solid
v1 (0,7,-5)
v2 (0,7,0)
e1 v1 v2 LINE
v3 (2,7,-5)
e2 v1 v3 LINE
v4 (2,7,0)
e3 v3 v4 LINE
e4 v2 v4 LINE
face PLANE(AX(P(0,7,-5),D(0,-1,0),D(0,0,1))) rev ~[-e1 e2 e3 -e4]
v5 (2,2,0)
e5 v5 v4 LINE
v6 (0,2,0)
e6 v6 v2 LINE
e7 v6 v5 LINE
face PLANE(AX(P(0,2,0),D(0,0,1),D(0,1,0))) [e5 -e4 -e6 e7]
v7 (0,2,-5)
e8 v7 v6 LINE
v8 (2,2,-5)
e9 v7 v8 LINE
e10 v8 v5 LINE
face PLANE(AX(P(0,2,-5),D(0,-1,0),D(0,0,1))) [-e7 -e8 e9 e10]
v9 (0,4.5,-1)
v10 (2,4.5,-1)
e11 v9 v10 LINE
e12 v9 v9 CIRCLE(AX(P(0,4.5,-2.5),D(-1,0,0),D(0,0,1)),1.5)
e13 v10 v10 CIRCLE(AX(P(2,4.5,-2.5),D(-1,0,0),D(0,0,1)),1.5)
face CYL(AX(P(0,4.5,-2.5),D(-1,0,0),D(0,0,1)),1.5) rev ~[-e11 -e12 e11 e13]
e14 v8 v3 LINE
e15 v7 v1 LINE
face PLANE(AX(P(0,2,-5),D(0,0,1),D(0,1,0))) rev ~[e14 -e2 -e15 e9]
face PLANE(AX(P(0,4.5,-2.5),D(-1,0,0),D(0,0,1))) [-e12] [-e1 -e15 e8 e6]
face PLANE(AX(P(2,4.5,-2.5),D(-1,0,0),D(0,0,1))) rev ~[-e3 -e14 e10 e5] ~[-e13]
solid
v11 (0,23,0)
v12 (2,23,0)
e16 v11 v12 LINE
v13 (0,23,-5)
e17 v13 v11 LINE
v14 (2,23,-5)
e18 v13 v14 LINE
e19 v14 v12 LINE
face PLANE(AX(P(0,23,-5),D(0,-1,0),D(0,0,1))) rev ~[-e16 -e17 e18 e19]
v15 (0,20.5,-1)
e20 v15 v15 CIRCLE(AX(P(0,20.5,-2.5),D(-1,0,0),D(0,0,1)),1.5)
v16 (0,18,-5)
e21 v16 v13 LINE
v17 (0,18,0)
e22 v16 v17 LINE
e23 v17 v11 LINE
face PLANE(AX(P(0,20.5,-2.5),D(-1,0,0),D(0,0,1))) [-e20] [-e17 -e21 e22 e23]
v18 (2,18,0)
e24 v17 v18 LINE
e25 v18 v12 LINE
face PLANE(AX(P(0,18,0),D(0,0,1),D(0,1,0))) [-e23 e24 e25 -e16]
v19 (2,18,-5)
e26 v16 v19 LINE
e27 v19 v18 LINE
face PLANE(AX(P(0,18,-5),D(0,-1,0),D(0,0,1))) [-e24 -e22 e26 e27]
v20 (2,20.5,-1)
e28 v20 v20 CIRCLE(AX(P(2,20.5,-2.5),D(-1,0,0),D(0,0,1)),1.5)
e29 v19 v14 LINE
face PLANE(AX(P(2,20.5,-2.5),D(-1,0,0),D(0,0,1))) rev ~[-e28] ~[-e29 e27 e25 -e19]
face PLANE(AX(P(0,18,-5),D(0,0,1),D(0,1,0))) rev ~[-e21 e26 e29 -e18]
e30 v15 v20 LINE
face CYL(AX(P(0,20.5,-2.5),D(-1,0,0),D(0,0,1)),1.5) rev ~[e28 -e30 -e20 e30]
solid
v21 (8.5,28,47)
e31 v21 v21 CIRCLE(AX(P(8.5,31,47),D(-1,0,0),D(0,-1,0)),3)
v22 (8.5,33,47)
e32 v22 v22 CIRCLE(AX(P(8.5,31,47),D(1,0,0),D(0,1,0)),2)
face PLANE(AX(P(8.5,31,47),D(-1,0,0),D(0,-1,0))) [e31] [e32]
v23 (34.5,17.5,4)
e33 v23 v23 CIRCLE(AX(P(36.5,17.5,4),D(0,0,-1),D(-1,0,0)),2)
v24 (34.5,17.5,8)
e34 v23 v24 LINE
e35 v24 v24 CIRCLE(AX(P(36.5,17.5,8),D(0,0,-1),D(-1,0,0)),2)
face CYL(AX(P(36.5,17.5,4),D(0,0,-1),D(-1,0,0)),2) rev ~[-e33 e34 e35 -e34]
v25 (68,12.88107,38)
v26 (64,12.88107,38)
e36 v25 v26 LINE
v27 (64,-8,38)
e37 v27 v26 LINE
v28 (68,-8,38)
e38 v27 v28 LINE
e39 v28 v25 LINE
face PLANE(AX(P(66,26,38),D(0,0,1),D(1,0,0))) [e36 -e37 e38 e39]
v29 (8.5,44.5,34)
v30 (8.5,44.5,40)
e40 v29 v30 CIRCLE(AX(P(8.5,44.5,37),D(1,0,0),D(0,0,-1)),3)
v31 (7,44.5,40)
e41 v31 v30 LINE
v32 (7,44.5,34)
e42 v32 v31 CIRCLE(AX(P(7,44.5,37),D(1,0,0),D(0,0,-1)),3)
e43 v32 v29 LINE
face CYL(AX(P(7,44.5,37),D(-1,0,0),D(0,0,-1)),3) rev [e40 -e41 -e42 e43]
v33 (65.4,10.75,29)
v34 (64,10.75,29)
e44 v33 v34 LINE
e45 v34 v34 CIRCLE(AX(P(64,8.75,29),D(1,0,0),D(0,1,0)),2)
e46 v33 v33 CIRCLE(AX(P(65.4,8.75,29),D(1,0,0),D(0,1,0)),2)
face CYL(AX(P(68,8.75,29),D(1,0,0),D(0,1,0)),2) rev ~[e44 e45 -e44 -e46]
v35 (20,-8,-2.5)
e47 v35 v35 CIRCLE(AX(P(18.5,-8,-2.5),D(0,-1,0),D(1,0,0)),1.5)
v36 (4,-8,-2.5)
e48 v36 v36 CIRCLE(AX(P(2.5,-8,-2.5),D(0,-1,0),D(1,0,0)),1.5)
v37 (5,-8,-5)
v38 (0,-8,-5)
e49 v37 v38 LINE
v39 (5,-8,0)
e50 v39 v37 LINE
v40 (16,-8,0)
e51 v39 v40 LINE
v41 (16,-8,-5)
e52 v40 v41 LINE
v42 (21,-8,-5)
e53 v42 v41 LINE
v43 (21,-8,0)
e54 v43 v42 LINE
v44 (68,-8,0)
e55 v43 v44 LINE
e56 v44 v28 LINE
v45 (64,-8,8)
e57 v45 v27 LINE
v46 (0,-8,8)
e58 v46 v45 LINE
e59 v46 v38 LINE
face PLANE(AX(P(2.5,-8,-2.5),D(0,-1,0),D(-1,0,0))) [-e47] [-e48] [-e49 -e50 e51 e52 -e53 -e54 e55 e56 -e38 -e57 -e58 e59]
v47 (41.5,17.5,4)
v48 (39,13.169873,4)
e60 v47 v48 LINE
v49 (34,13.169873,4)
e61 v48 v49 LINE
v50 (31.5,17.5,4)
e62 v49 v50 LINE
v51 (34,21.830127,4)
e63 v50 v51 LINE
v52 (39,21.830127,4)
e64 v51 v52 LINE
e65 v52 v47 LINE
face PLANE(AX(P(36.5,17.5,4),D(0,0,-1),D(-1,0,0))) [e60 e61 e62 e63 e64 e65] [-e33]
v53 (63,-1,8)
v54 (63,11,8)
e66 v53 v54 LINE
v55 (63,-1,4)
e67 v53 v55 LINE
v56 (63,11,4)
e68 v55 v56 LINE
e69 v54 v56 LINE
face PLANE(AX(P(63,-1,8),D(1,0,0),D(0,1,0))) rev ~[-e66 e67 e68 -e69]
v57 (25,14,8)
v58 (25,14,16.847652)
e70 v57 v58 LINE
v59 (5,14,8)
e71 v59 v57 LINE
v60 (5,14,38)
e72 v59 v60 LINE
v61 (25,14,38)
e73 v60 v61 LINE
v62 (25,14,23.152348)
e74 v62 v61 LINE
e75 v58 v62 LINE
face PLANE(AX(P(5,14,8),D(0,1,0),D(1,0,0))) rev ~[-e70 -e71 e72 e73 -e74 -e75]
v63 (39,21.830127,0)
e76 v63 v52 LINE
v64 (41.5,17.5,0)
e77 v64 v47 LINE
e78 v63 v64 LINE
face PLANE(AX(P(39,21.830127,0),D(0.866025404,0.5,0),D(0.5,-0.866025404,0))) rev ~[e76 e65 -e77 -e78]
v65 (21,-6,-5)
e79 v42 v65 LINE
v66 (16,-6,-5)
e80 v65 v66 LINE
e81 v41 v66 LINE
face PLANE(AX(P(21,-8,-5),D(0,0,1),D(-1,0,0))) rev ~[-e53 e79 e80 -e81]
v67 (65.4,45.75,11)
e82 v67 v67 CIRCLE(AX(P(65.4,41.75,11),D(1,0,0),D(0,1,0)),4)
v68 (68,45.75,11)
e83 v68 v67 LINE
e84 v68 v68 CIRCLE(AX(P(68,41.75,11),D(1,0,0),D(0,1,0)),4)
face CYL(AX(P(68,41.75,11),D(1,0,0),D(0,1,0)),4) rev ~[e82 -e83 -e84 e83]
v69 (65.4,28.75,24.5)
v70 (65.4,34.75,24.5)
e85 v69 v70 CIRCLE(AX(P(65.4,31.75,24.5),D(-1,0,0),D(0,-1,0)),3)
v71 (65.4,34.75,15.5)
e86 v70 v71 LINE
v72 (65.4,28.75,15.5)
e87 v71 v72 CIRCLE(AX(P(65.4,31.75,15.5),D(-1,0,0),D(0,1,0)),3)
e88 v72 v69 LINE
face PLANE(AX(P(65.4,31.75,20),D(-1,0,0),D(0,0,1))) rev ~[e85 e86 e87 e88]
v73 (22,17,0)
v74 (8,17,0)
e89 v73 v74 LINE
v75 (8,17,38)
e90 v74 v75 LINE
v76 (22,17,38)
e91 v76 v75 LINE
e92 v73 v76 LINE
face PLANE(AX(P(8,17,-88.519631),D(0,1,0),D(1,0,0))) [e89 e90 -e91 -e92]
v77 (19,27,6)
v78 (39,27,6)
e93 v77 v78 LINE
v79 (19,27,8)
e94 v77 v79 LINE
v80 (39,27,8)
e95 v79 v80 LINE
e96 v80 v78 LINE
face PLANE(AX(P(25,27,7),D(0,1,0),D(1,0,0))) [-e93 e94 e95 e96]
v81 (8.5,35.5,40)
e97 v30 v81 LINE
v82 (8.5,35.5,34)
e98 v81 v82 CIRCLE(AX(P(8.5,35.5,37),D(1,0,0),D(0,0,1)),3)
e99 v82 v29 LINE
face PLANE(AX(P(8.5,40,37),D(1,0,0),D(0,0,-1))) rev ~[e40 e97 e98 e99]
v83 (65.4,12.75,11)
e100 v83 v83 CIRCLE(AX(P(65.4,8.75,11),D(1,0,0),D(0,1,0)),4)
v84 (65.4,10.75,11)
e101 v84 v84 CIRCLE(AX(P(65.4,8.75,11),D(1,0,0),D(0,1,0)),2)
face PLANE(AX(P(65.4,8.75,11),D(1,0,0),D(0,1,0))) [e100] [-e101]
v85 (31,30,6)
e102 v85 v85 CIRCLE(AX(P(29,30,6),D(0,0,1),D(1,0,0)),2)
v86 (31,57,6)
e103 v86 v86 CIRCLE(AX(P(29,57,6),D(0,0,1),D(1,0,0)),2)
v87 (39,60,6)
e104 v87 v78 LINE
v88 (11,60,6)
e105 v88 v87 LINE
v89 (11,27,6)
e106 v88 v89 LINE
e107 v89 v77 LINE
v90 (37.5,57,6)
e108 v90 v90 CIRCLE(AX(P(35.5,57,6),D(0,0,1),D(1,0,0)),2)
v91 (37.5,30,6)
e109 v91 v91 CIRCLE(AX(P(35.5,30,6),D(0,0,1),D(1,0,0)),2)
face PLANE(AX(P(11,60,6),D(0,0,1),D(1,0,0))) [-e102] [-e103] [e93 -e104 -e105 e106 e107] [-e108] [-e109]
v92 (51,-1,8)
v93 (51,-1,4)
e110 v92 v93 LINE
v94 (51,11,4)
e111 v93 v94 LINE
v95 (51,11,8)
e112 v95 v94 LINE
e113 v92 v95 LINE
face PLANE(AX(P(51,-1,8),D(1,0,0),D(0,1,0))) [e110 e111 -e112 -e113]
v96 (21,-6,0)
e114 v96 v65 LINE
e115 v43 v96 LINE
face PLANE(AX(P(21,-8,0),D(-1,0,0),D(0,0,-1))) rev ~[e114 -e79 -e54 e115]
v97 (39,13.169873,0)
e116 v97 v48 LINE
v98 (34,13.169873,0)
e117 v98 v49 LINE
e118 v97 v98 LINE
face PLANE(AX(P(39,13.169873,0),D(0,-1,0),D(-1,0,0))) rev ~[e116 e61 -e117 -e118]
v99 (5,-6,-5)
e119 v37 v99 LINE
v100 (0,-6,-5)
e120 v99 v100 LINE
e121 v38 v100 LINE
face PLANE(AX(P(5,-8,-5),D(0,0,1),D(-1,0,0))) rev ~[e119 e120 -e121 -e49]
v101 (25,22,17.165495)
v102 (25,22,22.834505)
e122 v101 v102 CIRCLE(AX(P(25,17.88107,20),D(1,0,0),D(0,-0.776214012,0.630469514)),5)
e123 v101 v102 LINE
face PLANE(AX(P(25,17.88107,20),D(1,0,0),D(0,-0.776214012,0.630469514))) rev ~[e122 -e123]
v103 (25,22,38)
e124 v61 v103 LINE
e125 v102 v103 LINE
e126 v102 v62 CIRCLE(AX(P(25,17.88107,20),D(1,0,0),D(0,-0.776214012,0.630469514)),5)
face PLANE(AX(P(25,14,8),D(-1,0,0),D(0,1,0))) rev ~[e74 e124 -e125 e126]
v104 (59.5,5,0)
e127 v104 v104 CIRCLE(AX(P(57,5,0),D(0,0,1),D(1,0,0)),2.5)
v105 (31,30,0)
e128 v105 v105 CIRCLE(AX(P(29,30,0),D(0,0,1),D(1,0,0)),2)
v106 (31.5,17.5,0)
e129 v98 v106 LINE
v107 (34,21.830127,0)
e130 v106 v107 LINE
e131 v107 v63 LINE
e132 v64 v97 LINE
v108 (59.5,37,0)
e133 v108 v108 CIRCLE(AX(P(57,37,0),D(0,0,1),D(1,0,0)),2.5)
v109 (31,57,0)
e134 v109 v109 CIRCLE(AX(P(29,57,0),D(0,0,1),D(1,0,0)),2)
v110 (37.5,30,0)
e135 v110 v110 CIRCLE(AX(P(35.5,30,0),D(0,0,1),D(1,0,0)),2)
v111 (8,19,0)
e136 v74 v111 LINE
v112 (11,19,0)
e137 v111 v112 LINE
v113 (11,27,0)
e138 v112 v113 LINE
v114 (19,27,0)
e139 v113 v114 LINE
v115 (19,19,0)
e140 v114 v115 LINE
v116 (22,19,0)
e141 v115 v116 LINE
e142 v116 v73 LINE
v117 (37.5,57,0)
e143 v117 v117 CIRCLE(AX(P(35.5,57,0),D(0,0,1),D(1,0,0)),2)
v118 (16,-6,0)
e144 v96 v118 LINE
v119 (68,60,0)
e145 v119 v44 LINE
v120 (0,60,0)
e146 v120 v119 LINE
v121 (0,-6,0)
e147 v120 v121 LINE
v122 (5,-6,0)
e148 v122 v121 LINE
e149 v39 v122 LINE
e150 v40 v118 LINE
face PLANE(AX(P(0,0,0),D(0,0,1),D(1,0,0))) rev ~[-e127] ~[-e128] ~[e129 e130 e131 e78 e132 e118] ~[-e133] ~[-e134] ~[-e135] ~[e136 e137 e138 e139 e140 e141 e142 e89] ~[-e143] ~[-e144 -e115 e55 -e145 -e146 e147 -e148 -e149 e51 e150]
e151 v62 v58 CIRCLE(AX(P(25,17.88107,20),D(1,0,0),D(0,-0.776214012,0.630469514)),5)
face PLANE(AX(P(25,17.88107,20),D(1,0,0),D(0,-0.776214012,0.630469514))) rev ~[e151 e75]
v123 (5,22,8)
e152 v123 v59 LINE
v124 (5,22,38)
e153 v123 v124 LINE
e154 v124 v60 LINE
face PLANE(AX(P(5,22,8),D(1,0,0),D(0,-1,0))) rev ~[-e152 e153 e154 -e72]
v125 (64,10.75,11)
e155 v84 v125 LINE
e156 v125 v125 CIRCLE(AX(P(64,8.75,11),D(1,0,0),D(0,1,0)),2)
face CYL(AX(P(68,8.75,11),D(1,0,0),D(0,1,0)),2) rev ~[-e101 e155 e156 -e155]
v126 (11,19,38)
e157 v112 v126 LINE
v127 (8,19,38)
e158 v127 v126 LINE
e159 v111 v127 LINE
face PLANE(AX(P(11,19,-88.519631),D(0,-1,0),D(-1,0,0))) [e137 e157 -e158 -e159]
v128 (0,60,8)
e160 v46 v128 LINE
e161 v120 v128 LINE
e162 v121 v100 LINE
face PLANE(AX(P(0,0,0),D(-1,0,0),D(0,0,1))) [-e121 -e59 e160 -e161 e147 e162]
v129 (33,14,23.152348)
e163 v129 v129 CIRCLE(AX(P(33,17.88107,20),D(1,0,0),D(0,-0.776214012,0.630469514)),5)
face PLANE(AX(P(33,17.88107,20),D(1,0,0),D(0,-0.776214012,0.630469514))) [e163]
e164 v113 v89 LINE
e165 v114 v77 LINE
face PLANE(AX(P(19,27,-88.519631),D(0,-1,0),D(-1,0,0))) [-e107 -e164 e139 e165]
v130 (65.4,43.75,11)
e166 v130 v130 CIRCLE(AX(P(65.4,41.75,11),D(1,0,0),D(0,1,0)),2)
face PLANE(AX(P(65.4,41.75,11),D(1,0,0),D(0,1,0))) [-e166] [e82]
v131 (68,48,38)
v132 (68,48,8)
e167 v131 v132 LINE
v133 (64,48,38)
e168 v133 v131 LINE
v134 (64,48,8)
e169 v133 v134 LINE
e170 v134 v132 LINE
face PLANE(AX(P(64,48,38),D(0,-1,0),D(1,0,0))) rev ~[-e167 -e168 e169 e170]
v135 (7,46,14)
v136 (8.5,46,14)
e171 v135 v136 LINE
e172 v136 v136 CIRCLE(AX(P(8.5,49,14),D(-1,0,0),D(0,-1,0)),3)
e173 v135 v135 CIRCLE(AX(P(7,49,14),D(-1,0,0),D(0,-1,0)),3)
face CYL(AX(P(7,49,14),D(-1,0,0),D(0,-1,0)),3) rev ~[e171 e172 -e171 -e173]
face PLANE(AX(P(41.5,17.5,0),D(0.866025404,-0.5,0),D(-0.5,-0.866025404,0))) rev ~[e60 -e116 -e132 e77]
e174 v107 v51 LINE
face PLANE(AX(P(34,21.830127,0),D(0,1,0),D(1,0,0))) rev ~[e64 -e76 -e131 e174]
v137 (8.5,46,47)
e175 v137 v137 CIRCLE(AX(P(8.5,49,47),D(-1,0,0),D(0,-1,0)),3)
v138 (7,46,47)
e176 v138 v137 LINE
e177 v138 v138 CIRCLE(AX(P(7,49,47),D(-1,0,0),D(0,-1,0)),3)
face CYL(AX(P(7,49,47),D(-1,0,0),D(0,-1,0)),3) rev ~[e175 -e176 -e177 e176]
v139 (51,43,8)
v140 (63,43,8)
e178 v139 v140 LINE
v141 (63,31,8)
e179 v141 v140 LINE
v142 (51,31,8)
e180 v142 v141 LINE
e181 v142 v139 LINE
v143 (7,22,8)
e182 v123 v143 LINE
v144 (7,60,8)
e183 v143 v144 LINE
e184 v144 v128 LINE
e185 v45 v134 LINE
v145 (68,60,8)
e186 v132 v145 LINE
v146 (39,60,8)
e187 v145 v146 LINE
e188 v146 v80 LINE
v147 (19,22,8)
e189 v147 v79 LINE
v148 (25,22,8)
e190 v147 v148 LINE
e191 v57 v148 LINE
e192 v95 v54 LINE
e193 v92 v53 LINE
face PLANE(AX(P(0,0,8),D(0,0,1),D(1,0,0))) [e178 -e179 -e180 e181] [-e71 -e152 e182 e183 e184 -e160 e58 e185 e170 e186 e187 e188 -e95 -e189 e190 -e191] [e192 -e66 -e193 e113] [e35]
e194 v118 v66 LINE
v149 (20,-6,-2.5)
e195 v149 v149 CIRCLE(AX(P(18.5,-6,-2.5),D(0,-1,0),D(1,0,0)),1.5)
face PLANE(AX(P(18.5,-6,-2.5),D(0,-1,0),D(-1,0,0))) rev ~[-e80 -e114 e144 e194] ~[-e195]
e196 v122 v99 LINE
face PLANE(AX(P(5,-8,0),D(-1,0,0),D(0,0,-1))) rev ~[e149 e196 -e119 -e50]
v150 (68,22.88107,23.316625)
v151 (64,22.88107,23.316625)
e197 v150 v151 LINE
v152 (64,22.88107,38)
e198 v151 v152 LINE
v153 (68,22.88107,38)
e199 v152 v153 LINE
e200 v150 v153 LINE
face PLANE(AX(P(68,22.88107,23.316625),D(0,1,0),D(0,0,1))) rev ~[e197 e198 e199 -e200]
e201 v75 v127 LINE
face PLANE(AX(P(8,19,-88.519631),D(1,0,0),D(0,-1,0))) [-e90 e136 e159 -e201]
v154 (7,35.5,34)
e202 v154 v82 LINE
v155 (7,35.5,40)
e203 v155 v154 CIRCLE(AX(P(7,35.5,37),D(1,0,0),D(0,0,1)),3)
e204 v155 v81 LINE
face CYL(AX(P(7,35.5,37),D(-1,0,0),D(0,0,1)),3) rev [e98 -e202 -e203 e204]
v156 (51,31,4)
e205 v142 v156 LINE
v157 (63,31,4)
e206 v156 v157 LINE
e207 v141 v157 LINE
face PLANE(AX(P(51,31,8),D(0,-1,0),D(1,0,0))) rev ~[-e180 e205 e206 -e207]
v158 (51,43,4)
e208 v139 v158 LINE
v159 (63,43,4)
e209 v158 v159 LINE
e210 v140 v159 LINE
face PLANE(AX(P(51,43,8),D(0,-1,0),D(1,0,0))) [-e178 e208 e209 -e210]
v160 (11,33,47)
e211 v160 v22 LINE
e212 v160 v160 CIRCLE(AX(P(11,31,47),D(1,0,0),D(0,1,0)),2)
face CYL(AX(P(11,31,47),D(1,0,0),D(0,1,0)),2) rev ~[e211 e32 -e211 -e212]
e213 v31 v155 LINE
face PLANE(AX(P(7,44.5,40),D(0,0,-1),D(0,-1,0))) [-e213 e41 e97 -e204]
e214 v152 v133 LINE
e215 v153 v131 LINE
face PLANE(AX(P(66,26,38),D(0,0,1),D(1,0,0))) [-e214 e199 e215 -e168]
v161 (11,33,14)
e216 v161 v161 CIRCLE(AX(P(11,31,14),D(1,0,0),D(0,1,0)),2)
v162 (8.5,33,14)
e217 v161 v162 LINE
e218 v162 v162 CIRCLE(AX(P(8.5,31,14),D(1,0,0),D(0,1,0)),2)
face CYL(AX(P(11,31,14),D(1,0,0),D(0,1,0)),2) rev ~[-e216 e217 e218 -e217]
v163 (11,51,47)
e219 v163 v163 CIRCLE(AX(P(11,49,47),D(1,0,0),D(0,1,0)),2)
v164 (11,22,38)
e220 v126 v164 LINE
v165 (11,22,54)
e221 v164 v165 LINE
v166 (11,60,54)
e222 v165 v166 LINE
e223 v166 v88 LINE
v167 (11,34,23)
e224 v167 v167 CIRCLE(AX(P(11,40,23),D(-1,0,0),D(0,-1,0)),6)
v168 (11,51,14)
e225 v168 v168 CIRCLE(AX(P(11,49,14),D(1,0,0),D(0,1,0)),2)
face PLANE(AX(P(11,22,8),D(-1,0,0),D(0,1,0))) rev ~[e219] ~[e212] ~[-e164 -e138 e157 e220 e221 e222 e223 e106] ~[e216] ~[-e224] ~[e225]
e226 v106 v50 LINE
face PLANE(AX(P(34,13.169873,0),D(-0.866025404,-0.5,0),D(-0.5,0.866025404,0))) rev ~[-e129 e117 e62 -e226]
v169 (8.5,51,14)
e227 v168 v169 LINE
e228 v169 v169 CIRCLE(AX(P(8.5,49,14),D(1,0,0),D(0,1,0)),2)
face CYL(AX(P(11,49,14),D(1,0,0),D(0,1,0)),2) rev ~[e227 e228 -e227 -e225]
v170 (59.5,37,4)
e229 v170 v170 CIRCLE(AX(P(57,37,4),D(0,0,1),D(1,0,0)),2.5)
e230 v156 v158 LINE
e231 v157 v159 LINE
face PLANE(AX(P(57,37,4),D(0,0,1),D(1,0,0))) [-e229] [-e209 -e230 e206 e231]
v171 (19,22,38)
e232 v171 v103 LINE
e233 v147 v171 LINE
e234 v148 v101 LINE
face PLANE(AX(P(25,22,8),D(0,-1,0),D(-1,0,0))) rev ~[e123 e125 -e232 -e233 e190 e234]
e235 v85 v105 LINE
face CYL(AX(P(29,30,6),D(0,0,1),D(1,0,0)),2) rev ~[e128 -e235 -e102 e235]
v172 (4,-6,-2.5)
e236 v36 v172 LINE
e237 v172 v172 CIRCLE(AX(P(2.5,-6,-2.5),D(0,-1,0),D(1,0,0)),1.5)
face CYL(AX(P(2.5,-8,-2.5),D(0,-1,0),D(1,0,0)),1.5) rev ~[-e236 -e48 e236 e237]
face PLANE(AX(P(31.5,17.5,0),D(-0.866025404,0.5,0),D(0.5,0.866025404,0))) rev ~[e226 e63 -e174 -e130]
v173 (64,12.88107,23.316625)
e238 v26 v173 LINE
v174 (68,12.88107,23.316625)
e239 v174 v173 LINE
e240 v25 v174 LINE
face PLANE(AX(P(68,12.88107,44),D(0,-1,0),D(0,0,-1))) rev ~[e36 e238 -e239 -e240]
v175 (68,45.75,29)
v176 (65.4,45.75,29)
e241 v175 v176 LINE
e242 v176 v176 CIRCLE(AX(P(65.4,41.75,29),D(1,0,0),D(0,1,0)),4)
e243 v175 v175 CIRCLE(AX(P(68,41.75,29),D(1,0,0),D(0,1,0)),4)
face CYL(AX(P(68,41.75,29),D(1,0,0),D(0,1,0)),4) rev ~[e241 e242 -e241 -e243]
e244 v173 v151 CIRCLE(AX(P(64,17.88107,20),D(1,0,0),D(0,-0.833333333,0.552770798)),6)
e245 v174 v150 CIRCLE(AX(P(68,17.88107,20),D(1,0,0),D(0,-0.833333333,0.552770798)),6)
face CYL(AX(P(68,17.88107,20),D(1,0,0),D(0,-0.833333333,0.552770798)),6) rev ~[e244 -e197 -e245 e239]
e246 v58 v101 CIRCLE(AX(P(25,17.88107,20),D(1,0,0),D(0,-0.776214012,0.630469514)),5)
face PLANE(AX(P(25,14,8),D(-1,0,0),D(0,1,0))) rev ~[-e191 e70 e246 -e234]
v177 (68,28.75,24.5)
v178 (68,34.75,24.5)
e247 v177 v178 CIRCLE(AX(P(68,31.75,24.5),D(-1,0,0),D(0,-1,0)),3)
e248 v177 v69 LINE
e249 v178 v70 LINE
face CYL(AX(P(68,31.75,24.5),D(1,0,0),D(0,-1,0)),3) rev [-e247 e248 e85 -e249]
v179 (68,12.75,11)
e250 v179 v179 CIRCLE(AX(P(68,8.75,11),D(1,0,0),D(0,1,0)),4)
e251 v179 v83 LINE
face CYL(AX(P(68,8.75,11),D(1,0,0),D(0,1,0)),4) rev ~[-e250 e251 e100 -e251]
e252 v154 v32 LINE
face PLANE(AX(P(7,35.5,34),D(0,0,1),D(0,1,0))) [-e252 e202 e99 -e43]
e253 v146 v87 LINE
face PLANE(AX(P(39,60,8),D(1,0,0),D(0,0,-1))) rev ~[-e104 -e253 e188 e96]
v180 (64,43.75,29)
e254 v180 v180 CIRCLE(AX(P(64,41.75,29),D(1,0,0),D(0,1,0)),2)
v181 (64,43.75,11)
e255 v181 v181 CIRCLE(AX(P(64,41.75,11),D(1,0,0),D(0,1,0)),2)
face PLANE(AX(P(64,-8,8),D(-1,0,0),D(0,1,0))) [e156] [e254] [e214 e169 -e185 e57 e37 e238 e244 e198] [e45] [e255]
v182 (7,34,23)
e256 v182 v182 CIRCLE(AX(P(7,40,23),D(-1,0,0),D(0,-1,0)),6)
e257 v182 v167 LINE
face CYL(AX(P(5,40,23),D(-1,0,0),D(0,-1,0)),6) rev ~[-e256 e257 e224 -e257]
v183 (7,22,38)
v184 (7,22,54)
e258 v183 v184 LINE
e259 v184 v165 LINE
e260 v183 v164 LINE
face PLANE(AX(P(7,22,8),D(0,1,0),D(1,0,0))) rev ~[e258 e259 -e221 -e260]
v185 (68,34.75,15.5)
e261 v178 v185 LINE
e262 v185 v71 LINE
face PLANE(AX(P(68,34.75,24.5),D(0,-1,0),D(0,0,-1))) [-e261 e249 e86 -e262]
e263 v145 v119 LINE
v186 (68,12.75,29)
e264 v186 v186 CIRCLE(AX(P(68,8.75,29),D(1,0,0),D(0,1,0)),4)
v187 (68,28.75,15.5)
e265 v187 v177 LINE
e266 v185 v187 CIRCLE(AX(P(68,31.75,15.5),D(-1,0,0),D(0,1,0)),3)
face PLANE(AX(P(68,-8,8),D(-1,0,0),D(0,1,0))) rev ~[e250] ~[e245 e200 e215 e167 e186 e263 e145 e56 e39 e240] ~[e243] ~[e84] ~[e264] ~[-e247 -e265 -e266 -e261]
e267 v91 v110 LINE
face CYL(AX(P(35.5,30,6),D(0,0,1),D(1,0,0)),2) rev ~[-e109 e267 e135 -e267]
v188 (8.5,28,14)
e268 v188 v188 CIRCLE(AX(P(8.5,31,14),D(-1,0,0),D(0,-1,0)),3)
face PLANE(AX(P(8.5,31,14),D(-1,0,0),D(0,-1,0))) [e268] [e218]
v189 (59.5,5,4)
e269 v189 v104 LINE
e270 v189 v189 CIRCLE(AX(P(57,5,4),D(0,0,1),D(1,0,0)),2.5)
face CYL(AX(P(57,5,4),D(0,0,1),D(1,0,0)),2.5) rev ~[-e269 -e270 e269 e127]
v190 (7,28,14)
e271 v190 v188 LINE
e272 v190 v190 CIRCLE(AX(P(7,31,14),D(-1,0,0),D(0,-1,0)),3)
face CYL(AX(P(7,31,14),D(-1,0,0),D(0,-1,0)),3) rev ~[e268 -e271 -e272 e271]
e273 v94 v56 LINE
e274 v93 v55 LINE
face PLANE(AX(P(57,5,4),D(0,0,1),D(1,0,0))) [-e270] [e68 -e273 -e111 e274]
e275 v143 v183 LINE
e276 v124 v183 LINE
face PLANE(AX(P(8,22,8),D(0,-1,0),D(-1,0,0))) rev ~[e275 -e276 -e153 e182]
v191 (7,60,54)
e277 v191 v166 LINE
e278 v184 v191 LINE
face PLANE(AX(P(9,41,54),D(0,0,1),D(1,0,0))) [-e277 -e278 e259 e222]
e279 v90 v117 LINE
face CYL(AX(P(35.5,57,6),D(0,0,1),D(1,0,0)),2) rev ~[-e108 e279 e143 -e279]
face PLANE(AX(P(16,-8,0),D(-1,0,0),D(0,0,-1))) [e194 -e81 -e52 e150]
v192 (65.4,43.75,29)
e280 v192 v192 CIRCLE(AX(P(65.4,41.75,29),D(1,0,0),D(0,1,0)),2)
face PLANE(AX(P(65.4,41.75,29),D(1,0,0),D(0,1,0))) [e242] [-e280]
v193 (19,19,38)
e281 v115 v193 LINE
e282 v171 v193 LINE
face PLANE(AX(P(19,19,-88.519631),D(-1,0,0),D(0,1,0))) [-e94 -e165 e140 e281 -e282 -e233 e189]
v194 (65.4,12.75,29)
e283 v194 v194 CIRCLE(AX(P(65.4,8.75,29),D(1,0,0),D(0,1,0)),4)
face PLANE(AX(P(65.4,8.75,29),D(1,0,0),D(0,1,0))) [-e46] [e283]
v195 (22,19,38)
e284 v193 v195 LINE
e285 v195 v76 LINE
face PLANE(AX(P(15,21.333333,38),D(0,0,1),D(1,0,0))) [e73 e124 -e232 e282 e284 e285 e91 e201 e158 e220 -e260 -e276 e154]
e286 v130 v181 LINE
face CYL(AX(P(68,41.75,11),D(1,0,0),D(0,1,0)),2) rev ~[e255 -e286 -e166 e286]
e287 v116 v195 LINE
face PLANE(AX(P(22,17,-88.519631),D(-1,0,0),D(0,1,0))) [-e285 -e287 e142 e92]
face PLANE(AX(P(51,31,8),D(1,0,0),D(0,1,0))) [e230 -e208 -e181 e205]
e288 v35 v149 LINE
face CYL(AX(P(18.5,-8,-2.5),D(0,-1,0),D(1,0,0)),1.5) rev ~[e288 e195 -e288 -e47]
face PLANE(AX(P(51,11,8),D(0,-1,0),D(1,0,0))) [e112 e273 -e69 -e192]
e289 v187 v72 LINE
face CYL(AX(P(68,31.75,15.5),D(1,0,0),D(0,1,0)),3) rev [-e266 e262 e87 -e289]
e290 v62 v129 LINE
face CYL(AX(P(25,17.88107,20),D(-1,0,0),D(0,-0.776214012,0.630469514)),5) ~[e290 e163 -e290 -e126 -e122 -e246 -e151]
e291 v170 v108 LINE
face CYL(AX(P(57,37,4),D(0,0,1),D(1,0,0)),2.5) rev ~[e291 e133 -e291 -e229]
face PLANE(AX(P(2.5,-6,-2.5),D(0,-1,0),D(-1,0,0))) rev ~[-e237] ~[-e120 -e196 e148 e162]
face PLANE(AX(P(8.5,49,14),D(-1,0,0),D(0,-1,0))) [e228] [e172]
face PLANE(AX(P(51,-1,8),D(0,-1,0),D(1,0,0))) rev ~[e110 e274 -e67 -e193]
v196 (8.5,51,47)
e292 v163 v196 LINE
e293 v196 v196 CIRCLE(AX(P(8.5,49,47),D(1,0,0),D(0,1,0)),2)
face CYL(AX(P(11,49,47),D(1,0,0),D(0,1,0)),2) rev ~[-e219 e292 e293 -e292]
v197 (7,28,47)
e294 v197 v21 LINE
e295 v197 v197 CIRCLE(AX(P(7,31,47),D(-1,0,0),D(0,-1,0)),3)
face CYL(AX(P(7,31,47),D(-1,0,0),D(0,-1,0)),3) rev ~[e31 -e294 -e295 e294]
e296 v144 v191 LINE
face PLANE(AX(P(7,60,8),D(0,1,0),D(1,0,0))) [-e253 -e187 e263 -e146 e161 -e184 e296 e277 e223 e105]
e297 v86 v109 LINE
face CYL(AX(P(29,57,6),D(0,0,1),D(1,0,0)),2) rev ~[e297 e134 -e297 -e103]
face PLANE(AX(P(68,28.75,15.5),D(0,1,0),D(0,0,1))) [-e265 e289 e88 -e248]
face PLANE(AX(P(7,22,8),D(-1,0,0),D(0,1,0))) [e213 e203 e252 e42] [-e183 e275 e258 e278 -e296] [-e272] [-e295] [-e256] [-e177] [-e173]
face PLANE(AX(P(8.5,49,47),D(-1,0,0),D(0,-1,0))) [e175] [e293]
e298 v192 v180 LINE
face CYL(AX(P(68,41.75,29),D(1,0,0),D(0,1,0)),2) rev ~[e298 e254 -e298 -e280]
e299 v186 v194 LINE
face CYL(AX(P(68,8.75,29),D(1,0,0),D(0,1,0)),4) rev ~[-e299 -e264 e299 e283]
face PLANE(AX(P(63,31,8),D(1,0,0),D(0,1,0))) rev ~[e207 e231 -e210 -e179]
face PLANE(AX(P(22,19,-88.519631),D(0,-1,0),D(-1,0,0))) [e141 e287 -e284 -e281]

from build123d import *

# Parameters (mm, degrees)
SKETCH1_W               = 68
SKETCH1_H               = 60
BOSS_EXTRUDE1_DEPTH     = 8
BOSS_EXTRUDE2_DEPTH     = 30
CUT_EXTRUDE1_DEPTH      = 96.51963149
CUT_EXTRUDE1_DEPTH_BACK = 96.51963149
SKETCH4_W               = 14
SKETCH4_H               = 8
CUT_EXTRUDE2_DEPTH      = 30
SKETCH9_R               = 5
BOSS_EXTRUDE4_DEPTH     = 8
SKETCH10_W              = 68
SKETCH10_H              = 8
BOSS_EXTRUDE5_DEPTH     = 8
SKETCH6_W               = 12
SKETCH6_H               = 12
CUT_EXTRUDE7_DEPTH      = 4
SKETCH11_W              = 4
SKETCH11_H              = 68
BOSS_EXTRUDE6_DEPTH     = 30
CUT_EXTRUDE8_REACH      = 81.177
SKETCH13_R              = 5
SKETCH14_R              = 4
CUT_EXTRUDE9_DEPTH      = 2.6
CUT_EXTRUDE10_REACH     = 100.326
SKETCH17_R              = 2
CUT_EXTRUDE11_REACH     = 100.326
CUT_EXTRUDE12_REACH     = 98.85
SKETCH19_R              = 2.5
SKETCH20_W              = 4
SKETCH20_H              = 12
CUT_EXTRUDE13_DEPTH     = 30
CUT_EXTRUDE14_DEPTH     = 4
CUT_EXTRUDE15_REACH     = 98.85
SKETCH23_R              = 2
SKETCH24_W              = 4
SKETCH24_H              = 38
BOSS_EXTRUDE7_DEPTH     = 46
SKETCH25_R              = 6
CUT_EXTRUDE16_DEPTH     = 20
SKETCH27_W              = 28
SKETCH27_H              = 2
CUT_EXTRUDE18_DEPTH     = 33
SKETCH28_R              = 3
CUT_EXTRUDE19_DEPTH     = 1.5
CUT_EXTRUDE20_REACH     = 100.818
SKETCH29_R              = 2
CUT_EXTRUDE21_REACH     = 104.606
SKETCH30_R              = 2
SKETCH33_W              = 5
SKETCH33_H              = 5
BOSS_EXTRUDE9_DEPTH     = 2
BOSS_EXTRUDE9_2_DEPTH   = 2
SKETCH34_R              = 1.5
CUT_EXTRUDE23_DEPTH     = 2
SKETCH35_W              = 5
SKETCH35_H              = 5
BOSS_EXTRUDE10_DEPTH    = 2
SKETCH36_R              = 1.5
CUT_EXTRUDE24_DEPTH     = 2


with BuildPart() as part:
    # Sketch1 → Boss-Extrude1 (new body)
    with BuildSketch(Plane.XY):
        with Locations((34, 30)):
            Rectangle(SKETCH1_W, SKETCH1_H)
    extrude(amount=BOSS_EXTRUDE1_DEPTH)

    # Sketch3 → Boss-Extrude2 (add)
    with BuildSketch(Plane.XY.offset(8)):
        Polygon((25, 14), (25, 22), (22, 22), (22, 30), (8, 30), (8, 22), (5, 22), (5, 14), align=None)
    extrude(amount=BOSS_EXTRUDE2_DEPTH)

    # Sketch2 → Cut-Extrude1 (cut, two sides: drawn at the far end of the back side and taken through both)
    with BuildSketch(Plane.XY.offset(8).offset(-CUT_EXTRUDE1_DEPTH_BACK)):
        Polygon((11, 27), (11, 19), (8, 19), (8, 17), (22, 17), (22, 19), (19, 19), (19, 27), align=None)
    extrude(amount=CUT_EXTRUDE1_DEPTH + CUT_EXTRUDE1_DEPTH_BACK, mode=Mode.SUBTRACT)

    # Sketch4 → Cut-Extrude2 (cut)
    with BuildSketch(Plane.XY.offset(38)):
        with Locations((15, 26)):
            Rectangle(SKETCH4_W, SKETCH4_H)
    extrude(amount=-CUT_EXTRUDE2_DEPTH, mode=Mode.SUBTRACT)

    # Sketch9 → Boss-Extrude4 (add)
    with BuildSketch(Plane(origin=(25, 0, 0), x_dir=(0, 0, -1), z_dir=(1, 0, 0))):
        with Locations(Location((-20, 17.881070059, 0), (0, 0, 230.915229081))):
            Circle(SKETCH9_R)
    extrude(amount=BOSS_EXTRUDE4_DEPTH)

    # Sketch10 → Boss-Extrude5 (add)
    with BuildSketch(Plane.XZ):
        with Locations((34, 4)):
            Rectangle(SKETCH10_W, SKETCH10_H)
    extrude(amount=BOSS_EXTRUDE5_DEPTH)

    # Sketch6 → Cut-Extrude7 (cut)
    with BuildSketch(Plane.XY.offset(8)):
        with Locations((57, 37)):
            Rectangle(SKETCH6_W, SKETCH6_H)
        with Locations((57, 5)):
            Rectangle(SKETCH6_W, SKETCH6_H)
    extrude(amount=-CUT_EXTRUDE7_DEPTH, mode=Mode.SUBTRACT)

    # Sketch11 → Boss-Extrude6 (add)
    with BuildSketch(Plane.XY.offset(8)):
        with Locations((66, 26)):
            Rectangle(SKETCH11_W, SKETCH11_H)
    extrude(amount=BOSS_EXTRUDE6_DEPTH)

    # Sketch13 → Cut-Extrude8 (cut, up to next)
    with BuildSketch(Plane(origin=(33, 0, 0), x_dir=(0, 0, -1), z_dir=(1, 0, 0)), mode=Mode.PRIVATE) as cut_extrude8_sk1:
        with Locations(Location((-20, 17.881070059, 0), (0, 0, 230.915229081))):
            Circle(SKETCH13_R)
    cut_extrude8_tool1 = extrude(cut_extrude8_sk1.sketch, amount=CUT_EXTRUDE8_REACH, mode=Mode.PRIVATE) & part.part
    add(cut_extrude8_tool1.solids().sort_by_distance((33, 17.88107, 20))[0], mode=Mode.SUBTRACT)

    # Sketch14 → Cut-Extrude9 (cut)
    with BuildSketch(Plane(origin=(68, 0, 0), x_dir=(0, 0, -1), z_dir=(1, 0, 0))):
        with Locations(Location((-29, 8.75, 0), (0, 0, 90))):
            Circle(SKETCH14_R)
        with Locations(Location((-11, 8.75, 0), (0, 0, 90))):
            Circle(SKETCH14_R)
        with Locations(Location((-11, 41.75, 0), (0, 0, 90))):
            Circle(SKETCH14_R)
        with Locations(Location((-29, 41.75, 0), (0, 0, 90))):
            Circle(SKETCH14_R)
        with BuildLine():
            Line((-24.5, 34.75), (-15.5, 34.75))
            ThreePointArc((-15.5, 34.75), (-12.5, 31.75), (-15.5, 28.75))
            Line((-15.5, 28.75), (-24.5, 28.75))
            ThreePointArc((-24.5, 28.75), (-27.5, 31.75), (-24.5, 34.75))
        make_face()
    extrude(amount=-CUT_EXTRUDE9_DEPTH, mode=Mode.SUBTRACT)

    # Sketch17 → Cut-Extrude10 (cut, up to next)
    with BuildSketch(Plane(origin=(68, 0, 0), x_dir=(0, 0, -1), z_dir=(1, 0, 0)), mode=Mode.PRIVATE) as cut_extrude10_sk1:
        with Locations(Location((-11, 41.75, 0), (0, 0, 90))):
            Circle(SKETCH17_R)
    cut_extrude10_tool1 = extrude(cut_extrude10_sk1.sketch, amount=-CUT_EXTRUDE10_REACH, mode=Mode.PRIVATE) & part.part
    # Sketch17 → Cut-Extrude10 (cut, up to next)
    with BuildSketch(Plane(origin=(68, 0, 0), x_dir=(0, 0, -1), z_dir=(1, 0, 0)), mode=Mode.PRIVATE) as cut_extrude10_sk2:
        with Locations(Location((-11, 8.75, 0), (0, 0, 90))):
            Circle(SKETCH17_R)
    cut_extrude10_tool2 = extrude(cut_extrude10_sk2.sketch, amount=-CUT_EXTRUDE10_REACH, mode=Mode.PRIVATE) & part.part
    # Sketch17 → Cut-Extrude10 (cut, up to next)
    with BuildSketch(Plane(origin=(68, 0, 0), x_dir=(0, 0, -1), z_dir=(1, 0, 0)), mode=Mode.PRIVATE) as cut_extrude10_sk3:
        with Locations(Location((-29, 8.75, 0), (0, 0, 90))):
            Circle(SKETCH17_R)
    cut_extrude10_tool3 = extrude(cut_extrude10_sk3.sketch, amount=-CUT_EXTRUDE10_REACH, mode=Mode.PRIVATE) & part.part
    # Sketch17 → Cut-Extrude10 (cut, up to next)
    with BuildSketch(Plane(origin=(68, 0, 0), x_dir=(0, 0, -1), z_dir=(1, 0, 0)), mode=Mode.PRIVATE) as cut_extrude10_sk4:
        with Locations(Location((-29, 41.75, 0), (0, 0, 90))):
            Circle(SKETCH17_R)
    cut_extrude10_tool4 = extrude(cut_extrude10_sk4.sketch, amount=-CUT_EXTRUDE10_REACH, mode=Mode.PRIVATE) & part.part
    add(cut_extrude10_tool1.solids().sort_by_distance((68, 41.75, 11))[0], mode=Mode.SUBTRACT)
    add(cut_extrude10_tool2.solids().sort_by_distance((68, 8.75, 11))[0], mode=Mode.SUBTRACT)
    add(cut_extrude10_tool3.solids().sort_by_distance((68, 8.75, 29))[0], mode=Mode.SUBTRACT)
    add(cut_extrude10_tool4.solids().sort_by_distance((68, 41.75, 29))[0], mode=Mode.SUBTRACT)

    # Sketch18 → Cut-Extrude11 (cut, up to next)
    with BuildSketch(Plane(origin=(68, 0, 0), x_dir=(0, 0, -1), z_dir=(1, 0, 0)), mode=Mode.PRIVATE) as cut_extrude11_sk1:
        with BuildLine():
            Line((-44, 22.881070059), (-44, 12.881070059))
            Line((-44, 12.881070059), (-23.31662479, 12.881070059))
            ThreePointArc((-23.31662479, 12.881070059), (-14, 17.881070059), (-23.31662479, 22.881070059))
            Line((-23.31662479, 22.881070059), (-44, 22.881070059))
        make_face()
    cut_extrude11_tool1 = extrude(cut_extrude11_sk1.sketch, amount=-CUT_EXTRUDE11_REACH, mode=Mode.PRIVATE) & part.part
    add(cut_extrude11_tool1.solids().sort_by_distance((68, 17.88107, 29.107008))[0], mode=Mode.SUBTRACT)

    # Sketch19 → Cut-Extrude12 (cut, up to next)
    with BuildSketch(Plane.XY.offset(4), mode=Mode.PRIVATE) as cut_extrude12_sk1:
        with Locations((57, 5)):
            Circle(SKETCH19_R)
    cut_extrude12_tool1 = extrude(cut_extrude12_sk1.sketch, amount=-CUT_EXTRUDE12_REACH, mode=Mode.PRIVATE) & part.part
    # Sketch19 → Cut-Extrude12 (cut, up to next)
    with BuildSketch(Plane.XY.offset(4), mode=Mode.PRIVATE) as cut_extrude12_sk2:
        with Locations((57, 37)):
            Circle(SKETCH19_R)
    cut_extrude12_tool2 = extrude(cut_extrude12_sk2.sketch, amount=-CUT_EXTRUDE12_REACH, mode=Mode.PRIVATE) & part.part
    add(cut_extrude12_tool1.solids().sort_by_distance((57, 5, 4))[0], mode=Mode.SUBTRACT)
    add(cut_extrude12_tool2.solids().sort_by_distance((57, 37, 4))[0], mode=Mode.SUBTRACT)

    # Sketch20 → Cut-Extrude13 (cut)
    with BuildSketch(Plane.XY.offset(38)):
        with Locations((66, 54)):
            Rectangle(SKETCH20_W, SKETCH20_H)
    extrude(amount=-CUT_EXTRUDE13_DEPTH, mode=Mode.SUBTRACT)

    # Sketch22 → Cut-Extrude14 (cut)
    with BuildSketch(Plane(origin=(0, 0, 0), x_dir=(-1, 0, 0), z_dir=(0, 0, -1))):
        Polygon((-31.5, 17.5), (-34, 21.830127019), (-39, 21.830127019), (-41.5, 17.5), (-39, 13.169872981), (-34, 13.169872981), align=None)
    extrude(amount=-CUT_EXTRUDE14_DEPTH, mode=Mode.SUBTRACT)

    # Sketch23 → Cut-Extrude15 (cut, up to next)
    with BuildSketch(Plane(origin=(0, 0, 4), x_dir=(-1, 0, 0), z_dir=(0, 0, -1)), mode=Mode.PRIVATE) as cut_extrude15_sk1:
        with Locations((-36.5, 17.5)):
            Circle(SKETCH23_R)
    cut_extrude15_tool1 = extrude(cut_extrude15_sk1.sketch, amount=-CUT_EXTRUDE15_REACH, mode=Mode.PRIVATE) & part.part
    add(cut_extrude15_tool1.solids().sort_by_distance((36.5, 17.5, 4))[0], mode=Mode.SUBTRACT)

    # Sketch24 → Boss-Extrude7 (add)
    with BuildSketch(Plane.XY.offset(8)):
        with Locations((9, 41)):
            Rectangle(SKETCH24_W, SKETCH24_H)
    extrude(amount=BOSS_EXTRUDE7_DEPTH)

    # Sketch25 → Cut-Extrude16 (cut)
    with BuildSketch(Plane.ZY.offset(-5)):
        with Locations(Location((23, 40, 0), (0, 0, 270))):
            Circle(SKETCH25_R)
    extrude(amount=-CUT_EXTRUDE16_DEPTH, mode=Mode.SUBTRACT)

    # Sketch27 → Cut-Extrude18 (cut)
    with BuildSketch(Plane(origin=(0, 60, 0), x_dir=(1, 0, 0), z_dir=(0, 1, 0))):
        with Locations((25, -7)):
            Rectangle(SKETCH27_W, SKETCH27_H)
    extrude(amount=-CUT_EXTRUDE18_DEPTH, mode=Mode.SUBTRACT)

    # Sketch28 → Cut-Extrude19 (cut)
    with BuildSketch(Plane.ZY.offset(-7)):
        with Locations(Location((14, 49, 0), (0, 0, 270))):
            Circle(SKETCH28_R)
        with Locations(Location((14, 31, 0), (0, 0, 270))):
            Circle(SKETCH28_R)
        with Locations(Location((47, 49, 0), (0, 0, 270))):
            Circle(SKETCH28_R)
        with Locations(Location((47, 31, 0), (0, 0, 270))):
            Circle(SKETCH28_R)
        with BuildLine():
            Line((40, 44.5), (40, 35.5))
            ThreePointArc((40, 35.5), (37, 32.5), (34, 35.5))
            Line((34, 35.5), (34, 44.5))
            ThreePointArc((34, 44.5), (37, 47.5), (40, 44.5))
        make_face()
    extrude(amount=-CUT_EXTRUDE19_DEPTH, mode=Mode.SUBTRACT)

    # Sketch29 → Cut-Extrude20 (cut, up to next)
    with BuildSketch(Plane(origin=(11, 0, 0), x_dir=(0, 0, -1), z_dir=(1, 0, 0)), mode=Mode.PRIVATE) as cut_extrude20_sk1:
        with Locations(Location((-47, 49, 0), (0, 0, 90))):
            Circle(SKETCH29_R)
    cut_extrude20_tool1 = extrude(cut_extrude20_sk1.sketch, amount=-CUT_EXTRUDE20_REACH, mode=Mode.PRIVATE) & part.part
    # Sketch29 → Cut-Extrude20 (cut, up to next)
    with BuildSketch(Plane(origin=(11, 0, 0), x_dir=(0, 0, -1), z_dir=(1, 0, 0)), mode=Mode.PRIVATE) as cut_extrude20_sk2:
        with Locations(Location((-47, 31, 0), (0, 0, 90))):
            Circle(SKETCH29_R)
    cut_extrude20_tool2 = extrude(cut_extrude20_sk2.sketch, amount=-CUT_EXTRUDE20_REACH, mode=Mode.PRIVATE) & part.part
    # Sketch29 → Cut-Extrude20 (cut, up to next)
    with BuildSketch(Plane(origin=(11, 0, 0), x_dir=(0, 0, -1), z_dir=(1, 0, 0)), mode=Mode.PRIVATE) as cut_extrude20_sk3:
        with Locations(Location((-14, 49, 0), (0, 0, 90))):
            Circle(SKETCH29_R)
    cut_extrude20_tool3 = extrude(cut_extrude20_sk3.sketch, amount=-CUT_EXTRUDE20_REACH, mode=Mode.PRIVATE) & part.part
    # Sketch29 → Cut-Extrude20 (cut, up to next)
    with BuildSketch(Plane(origin=(11, 0, 0), x_dir=(0, 0, -1), z_dir=(1, 0, 0)), mode=Mode.PRIVATE) as cut_extrude20_sk4:
        with Locations(Location((-14, 31, 0), (0, 0, 90))):
            Circle(SKETCH29_R)
    cut_extrude20_tool4 = extrude(cut_extrude20_sk4.sketch, amount=-CUT_EXTRUDE20_REACH, mode=Mode.PRIVATE) & part.part
    add(cut_extrude20_tool1.solids().sort_by_distance((11, 49, 47))[0], mode=Mode.SUBTRACT)
    add(cut_extrude20_tool2.solids().sort_by_distance((11, 31, 47))[0], mode=Mode.SUBTRACT)
    add(cut_extrude20_tool3.solids().sort_by_distance((11, 49, 14))[0], mode=Mode.SUBTRACT)
    add(cut_extrude20_tool4.solids().sort_by_distance((11, 31, 14))[0], mode=Mode.SUBTRACT)

    # Sketch30 → Cut-Extrude21 (cut, up to next)
    with BuildSketch(Plane.XY.offset(6), mode=Mode.PRIVATE) as cut_extrude21_sk1:
        with Locations((29, 30)):
            Circle(SKETCH30_R)
    cut_extrude21_tool1 = extrude(cut_extrude21_sk1.sketch, amount=-CUT_EXTRUDE21_REACH, mode=Mode.PRIVATE) & part.part
    # Sketch30 → Cut-Extrude21 (cut, up to next)
    with BuildSketch(Plane.XY.offset(6), mode=Mode.PRIVATE) as cut_extrude21_sk2:
        with Locations((29, 57)):
            Circle(SKETCH30_R)
    cut_extrude21_tool2 = extrude(cut_extrude21_sk2.sketch, amount=-CUT_EXTRUDE21_REACH, mode=Mode.PRIVATE) & part.part
    # Sketch30 → Cut-Extrude21 (cut, up to next)
    with BuildSketch(Plane.XY.offset(6), mode=Mode.PRIVATE) as cut_extrude21_sk3:
        with Locations((35.5, 30)):
            Circle(SKETCH30_R)
    cut_extrude21_tool3 = extrude(cut_extrude21_sk3.sketch, amount=-CUT_EXTRUDE21_REACH, mode=Mode.PRIVATE) & part.part
    # Sketch30 → Cut-Extrude21 (cut, up to next)
    with BuildSketch(Plane.XY.offset(6), mode=Mode.PRIVATE) as cut_extrude21_sk4:
        with Locations((35.5, 57)):
            Circle(SKETCH30_R)
    cut_extrude21_tool4 = extrude(cut_extrude21_sk4.sketch, amount=-CUT_EXTRUDE21_REACH, mode=Mode.PRIVATE) & part.part
    add(cut_extrude21_tool1.solids().sort_by_distance((29, 30, 6))[0], mode=Mode.SUBTRACT)
    add(cut_extrude21_tool2.solids().sort_by_distance((29, 57, 6))[0], mode=Mode.SUBTRACT)
    add(cut_extrude21_tool3.solids().sort_by_distance((35.5, 30, 6))[0], mode=Mode.SUBTRACT)
    add(cut_extrude21_tool4.solids().sort_by_distance((35.5, 57, 6))[0], mode=Mode.SUBTRACT)

    # Sketch35 → Boss-Extrude10 (add)
    with BuildSketch(Plane(origin=(0, -8, 0), x_dir=(-1, 0, 0), z_dir=(0, -1, 0))):
        with Locations((-2.5, 2.5)):
            Rectangle(SKETCH35_W, SKETCH35_H)
        with Locations((-18.5, 2.5)):
            Rectangle(SKETCH35_W, SKETCH35_H)
    extrude(amount=-BOSS_EXTRUDE10_DEPTH)

    # Sketch36 → Cut-Extrude24 (cut)
    with BuildSketch(Plane(origin=(0, -8, 0), x_dir=(-1, 0, 0), z_dir=(0, -1, 0))):
        with Locations(Location((-2.5, 2.5, 0), (0, 0, 180))):
            Circle(SKETCH36_R)
        with Locations(Location((-18.5, 2.5, 0), (0, 0, 180))):
            Circle(SKETCH36_R)
    extrude(amount=-CUT_EXTRUDE24_DEPTH, mode=Mode.SUBTRACT)


with BuildPart() as body_2:
    # Sketch33 → Boss-Extrude9 (new body)
    with BuildSketch(Plane.ZY):
        with Locations((-2.5, 20.5)):
            Rectangle(SKETCH33_W, SKETCH33_H)
    extrude(amount=-BOSS_EXTRUDE9_DEPTH)


with BuildPart() as body_3:
    # Sketch33 → Boss-Extrude9 2 (new body)
    with BuildSketch(Plane.ZY):
        with Locations((-2.5, 4.5)):
            Rectangle(SKETCH33_W, SKETCH33_H)
    extrude(amount=-BOSS_EXTRUDE9_2_DEPTH)


with BuildPart() as cut_extrude23_tool:
    # Sketch34 → Cut-Extrude23 (new body)
    with BuildSketch(Plane.ZY):
        with Locations((-2.5, 20.5)):
            Circle(SKETCH34_R)
        with Locations((-2.5, 4.5)):
            Circle(SKETCH34_R)
    extrude(amount=-CUT_EXTRUDE23_DEPTH)


with BuildPart() as body_2_1:
    add(body_2.part)

    # Cut-Extrude23: cut by cut_extrude23_tool
    add(cut_extrude23_tool.part, mode=Mode.SUBTRACT)


with BuildPart() as body_3_1:
    add(body_3.part)

    # Cut-Extrude23: cut by cut_extrude23_tool
    add(cut_extrude23_tool.part, mode=Mode.SUBTRACT)


solid = Compound([part.part, body_2_1.part, body_3_1.part])
